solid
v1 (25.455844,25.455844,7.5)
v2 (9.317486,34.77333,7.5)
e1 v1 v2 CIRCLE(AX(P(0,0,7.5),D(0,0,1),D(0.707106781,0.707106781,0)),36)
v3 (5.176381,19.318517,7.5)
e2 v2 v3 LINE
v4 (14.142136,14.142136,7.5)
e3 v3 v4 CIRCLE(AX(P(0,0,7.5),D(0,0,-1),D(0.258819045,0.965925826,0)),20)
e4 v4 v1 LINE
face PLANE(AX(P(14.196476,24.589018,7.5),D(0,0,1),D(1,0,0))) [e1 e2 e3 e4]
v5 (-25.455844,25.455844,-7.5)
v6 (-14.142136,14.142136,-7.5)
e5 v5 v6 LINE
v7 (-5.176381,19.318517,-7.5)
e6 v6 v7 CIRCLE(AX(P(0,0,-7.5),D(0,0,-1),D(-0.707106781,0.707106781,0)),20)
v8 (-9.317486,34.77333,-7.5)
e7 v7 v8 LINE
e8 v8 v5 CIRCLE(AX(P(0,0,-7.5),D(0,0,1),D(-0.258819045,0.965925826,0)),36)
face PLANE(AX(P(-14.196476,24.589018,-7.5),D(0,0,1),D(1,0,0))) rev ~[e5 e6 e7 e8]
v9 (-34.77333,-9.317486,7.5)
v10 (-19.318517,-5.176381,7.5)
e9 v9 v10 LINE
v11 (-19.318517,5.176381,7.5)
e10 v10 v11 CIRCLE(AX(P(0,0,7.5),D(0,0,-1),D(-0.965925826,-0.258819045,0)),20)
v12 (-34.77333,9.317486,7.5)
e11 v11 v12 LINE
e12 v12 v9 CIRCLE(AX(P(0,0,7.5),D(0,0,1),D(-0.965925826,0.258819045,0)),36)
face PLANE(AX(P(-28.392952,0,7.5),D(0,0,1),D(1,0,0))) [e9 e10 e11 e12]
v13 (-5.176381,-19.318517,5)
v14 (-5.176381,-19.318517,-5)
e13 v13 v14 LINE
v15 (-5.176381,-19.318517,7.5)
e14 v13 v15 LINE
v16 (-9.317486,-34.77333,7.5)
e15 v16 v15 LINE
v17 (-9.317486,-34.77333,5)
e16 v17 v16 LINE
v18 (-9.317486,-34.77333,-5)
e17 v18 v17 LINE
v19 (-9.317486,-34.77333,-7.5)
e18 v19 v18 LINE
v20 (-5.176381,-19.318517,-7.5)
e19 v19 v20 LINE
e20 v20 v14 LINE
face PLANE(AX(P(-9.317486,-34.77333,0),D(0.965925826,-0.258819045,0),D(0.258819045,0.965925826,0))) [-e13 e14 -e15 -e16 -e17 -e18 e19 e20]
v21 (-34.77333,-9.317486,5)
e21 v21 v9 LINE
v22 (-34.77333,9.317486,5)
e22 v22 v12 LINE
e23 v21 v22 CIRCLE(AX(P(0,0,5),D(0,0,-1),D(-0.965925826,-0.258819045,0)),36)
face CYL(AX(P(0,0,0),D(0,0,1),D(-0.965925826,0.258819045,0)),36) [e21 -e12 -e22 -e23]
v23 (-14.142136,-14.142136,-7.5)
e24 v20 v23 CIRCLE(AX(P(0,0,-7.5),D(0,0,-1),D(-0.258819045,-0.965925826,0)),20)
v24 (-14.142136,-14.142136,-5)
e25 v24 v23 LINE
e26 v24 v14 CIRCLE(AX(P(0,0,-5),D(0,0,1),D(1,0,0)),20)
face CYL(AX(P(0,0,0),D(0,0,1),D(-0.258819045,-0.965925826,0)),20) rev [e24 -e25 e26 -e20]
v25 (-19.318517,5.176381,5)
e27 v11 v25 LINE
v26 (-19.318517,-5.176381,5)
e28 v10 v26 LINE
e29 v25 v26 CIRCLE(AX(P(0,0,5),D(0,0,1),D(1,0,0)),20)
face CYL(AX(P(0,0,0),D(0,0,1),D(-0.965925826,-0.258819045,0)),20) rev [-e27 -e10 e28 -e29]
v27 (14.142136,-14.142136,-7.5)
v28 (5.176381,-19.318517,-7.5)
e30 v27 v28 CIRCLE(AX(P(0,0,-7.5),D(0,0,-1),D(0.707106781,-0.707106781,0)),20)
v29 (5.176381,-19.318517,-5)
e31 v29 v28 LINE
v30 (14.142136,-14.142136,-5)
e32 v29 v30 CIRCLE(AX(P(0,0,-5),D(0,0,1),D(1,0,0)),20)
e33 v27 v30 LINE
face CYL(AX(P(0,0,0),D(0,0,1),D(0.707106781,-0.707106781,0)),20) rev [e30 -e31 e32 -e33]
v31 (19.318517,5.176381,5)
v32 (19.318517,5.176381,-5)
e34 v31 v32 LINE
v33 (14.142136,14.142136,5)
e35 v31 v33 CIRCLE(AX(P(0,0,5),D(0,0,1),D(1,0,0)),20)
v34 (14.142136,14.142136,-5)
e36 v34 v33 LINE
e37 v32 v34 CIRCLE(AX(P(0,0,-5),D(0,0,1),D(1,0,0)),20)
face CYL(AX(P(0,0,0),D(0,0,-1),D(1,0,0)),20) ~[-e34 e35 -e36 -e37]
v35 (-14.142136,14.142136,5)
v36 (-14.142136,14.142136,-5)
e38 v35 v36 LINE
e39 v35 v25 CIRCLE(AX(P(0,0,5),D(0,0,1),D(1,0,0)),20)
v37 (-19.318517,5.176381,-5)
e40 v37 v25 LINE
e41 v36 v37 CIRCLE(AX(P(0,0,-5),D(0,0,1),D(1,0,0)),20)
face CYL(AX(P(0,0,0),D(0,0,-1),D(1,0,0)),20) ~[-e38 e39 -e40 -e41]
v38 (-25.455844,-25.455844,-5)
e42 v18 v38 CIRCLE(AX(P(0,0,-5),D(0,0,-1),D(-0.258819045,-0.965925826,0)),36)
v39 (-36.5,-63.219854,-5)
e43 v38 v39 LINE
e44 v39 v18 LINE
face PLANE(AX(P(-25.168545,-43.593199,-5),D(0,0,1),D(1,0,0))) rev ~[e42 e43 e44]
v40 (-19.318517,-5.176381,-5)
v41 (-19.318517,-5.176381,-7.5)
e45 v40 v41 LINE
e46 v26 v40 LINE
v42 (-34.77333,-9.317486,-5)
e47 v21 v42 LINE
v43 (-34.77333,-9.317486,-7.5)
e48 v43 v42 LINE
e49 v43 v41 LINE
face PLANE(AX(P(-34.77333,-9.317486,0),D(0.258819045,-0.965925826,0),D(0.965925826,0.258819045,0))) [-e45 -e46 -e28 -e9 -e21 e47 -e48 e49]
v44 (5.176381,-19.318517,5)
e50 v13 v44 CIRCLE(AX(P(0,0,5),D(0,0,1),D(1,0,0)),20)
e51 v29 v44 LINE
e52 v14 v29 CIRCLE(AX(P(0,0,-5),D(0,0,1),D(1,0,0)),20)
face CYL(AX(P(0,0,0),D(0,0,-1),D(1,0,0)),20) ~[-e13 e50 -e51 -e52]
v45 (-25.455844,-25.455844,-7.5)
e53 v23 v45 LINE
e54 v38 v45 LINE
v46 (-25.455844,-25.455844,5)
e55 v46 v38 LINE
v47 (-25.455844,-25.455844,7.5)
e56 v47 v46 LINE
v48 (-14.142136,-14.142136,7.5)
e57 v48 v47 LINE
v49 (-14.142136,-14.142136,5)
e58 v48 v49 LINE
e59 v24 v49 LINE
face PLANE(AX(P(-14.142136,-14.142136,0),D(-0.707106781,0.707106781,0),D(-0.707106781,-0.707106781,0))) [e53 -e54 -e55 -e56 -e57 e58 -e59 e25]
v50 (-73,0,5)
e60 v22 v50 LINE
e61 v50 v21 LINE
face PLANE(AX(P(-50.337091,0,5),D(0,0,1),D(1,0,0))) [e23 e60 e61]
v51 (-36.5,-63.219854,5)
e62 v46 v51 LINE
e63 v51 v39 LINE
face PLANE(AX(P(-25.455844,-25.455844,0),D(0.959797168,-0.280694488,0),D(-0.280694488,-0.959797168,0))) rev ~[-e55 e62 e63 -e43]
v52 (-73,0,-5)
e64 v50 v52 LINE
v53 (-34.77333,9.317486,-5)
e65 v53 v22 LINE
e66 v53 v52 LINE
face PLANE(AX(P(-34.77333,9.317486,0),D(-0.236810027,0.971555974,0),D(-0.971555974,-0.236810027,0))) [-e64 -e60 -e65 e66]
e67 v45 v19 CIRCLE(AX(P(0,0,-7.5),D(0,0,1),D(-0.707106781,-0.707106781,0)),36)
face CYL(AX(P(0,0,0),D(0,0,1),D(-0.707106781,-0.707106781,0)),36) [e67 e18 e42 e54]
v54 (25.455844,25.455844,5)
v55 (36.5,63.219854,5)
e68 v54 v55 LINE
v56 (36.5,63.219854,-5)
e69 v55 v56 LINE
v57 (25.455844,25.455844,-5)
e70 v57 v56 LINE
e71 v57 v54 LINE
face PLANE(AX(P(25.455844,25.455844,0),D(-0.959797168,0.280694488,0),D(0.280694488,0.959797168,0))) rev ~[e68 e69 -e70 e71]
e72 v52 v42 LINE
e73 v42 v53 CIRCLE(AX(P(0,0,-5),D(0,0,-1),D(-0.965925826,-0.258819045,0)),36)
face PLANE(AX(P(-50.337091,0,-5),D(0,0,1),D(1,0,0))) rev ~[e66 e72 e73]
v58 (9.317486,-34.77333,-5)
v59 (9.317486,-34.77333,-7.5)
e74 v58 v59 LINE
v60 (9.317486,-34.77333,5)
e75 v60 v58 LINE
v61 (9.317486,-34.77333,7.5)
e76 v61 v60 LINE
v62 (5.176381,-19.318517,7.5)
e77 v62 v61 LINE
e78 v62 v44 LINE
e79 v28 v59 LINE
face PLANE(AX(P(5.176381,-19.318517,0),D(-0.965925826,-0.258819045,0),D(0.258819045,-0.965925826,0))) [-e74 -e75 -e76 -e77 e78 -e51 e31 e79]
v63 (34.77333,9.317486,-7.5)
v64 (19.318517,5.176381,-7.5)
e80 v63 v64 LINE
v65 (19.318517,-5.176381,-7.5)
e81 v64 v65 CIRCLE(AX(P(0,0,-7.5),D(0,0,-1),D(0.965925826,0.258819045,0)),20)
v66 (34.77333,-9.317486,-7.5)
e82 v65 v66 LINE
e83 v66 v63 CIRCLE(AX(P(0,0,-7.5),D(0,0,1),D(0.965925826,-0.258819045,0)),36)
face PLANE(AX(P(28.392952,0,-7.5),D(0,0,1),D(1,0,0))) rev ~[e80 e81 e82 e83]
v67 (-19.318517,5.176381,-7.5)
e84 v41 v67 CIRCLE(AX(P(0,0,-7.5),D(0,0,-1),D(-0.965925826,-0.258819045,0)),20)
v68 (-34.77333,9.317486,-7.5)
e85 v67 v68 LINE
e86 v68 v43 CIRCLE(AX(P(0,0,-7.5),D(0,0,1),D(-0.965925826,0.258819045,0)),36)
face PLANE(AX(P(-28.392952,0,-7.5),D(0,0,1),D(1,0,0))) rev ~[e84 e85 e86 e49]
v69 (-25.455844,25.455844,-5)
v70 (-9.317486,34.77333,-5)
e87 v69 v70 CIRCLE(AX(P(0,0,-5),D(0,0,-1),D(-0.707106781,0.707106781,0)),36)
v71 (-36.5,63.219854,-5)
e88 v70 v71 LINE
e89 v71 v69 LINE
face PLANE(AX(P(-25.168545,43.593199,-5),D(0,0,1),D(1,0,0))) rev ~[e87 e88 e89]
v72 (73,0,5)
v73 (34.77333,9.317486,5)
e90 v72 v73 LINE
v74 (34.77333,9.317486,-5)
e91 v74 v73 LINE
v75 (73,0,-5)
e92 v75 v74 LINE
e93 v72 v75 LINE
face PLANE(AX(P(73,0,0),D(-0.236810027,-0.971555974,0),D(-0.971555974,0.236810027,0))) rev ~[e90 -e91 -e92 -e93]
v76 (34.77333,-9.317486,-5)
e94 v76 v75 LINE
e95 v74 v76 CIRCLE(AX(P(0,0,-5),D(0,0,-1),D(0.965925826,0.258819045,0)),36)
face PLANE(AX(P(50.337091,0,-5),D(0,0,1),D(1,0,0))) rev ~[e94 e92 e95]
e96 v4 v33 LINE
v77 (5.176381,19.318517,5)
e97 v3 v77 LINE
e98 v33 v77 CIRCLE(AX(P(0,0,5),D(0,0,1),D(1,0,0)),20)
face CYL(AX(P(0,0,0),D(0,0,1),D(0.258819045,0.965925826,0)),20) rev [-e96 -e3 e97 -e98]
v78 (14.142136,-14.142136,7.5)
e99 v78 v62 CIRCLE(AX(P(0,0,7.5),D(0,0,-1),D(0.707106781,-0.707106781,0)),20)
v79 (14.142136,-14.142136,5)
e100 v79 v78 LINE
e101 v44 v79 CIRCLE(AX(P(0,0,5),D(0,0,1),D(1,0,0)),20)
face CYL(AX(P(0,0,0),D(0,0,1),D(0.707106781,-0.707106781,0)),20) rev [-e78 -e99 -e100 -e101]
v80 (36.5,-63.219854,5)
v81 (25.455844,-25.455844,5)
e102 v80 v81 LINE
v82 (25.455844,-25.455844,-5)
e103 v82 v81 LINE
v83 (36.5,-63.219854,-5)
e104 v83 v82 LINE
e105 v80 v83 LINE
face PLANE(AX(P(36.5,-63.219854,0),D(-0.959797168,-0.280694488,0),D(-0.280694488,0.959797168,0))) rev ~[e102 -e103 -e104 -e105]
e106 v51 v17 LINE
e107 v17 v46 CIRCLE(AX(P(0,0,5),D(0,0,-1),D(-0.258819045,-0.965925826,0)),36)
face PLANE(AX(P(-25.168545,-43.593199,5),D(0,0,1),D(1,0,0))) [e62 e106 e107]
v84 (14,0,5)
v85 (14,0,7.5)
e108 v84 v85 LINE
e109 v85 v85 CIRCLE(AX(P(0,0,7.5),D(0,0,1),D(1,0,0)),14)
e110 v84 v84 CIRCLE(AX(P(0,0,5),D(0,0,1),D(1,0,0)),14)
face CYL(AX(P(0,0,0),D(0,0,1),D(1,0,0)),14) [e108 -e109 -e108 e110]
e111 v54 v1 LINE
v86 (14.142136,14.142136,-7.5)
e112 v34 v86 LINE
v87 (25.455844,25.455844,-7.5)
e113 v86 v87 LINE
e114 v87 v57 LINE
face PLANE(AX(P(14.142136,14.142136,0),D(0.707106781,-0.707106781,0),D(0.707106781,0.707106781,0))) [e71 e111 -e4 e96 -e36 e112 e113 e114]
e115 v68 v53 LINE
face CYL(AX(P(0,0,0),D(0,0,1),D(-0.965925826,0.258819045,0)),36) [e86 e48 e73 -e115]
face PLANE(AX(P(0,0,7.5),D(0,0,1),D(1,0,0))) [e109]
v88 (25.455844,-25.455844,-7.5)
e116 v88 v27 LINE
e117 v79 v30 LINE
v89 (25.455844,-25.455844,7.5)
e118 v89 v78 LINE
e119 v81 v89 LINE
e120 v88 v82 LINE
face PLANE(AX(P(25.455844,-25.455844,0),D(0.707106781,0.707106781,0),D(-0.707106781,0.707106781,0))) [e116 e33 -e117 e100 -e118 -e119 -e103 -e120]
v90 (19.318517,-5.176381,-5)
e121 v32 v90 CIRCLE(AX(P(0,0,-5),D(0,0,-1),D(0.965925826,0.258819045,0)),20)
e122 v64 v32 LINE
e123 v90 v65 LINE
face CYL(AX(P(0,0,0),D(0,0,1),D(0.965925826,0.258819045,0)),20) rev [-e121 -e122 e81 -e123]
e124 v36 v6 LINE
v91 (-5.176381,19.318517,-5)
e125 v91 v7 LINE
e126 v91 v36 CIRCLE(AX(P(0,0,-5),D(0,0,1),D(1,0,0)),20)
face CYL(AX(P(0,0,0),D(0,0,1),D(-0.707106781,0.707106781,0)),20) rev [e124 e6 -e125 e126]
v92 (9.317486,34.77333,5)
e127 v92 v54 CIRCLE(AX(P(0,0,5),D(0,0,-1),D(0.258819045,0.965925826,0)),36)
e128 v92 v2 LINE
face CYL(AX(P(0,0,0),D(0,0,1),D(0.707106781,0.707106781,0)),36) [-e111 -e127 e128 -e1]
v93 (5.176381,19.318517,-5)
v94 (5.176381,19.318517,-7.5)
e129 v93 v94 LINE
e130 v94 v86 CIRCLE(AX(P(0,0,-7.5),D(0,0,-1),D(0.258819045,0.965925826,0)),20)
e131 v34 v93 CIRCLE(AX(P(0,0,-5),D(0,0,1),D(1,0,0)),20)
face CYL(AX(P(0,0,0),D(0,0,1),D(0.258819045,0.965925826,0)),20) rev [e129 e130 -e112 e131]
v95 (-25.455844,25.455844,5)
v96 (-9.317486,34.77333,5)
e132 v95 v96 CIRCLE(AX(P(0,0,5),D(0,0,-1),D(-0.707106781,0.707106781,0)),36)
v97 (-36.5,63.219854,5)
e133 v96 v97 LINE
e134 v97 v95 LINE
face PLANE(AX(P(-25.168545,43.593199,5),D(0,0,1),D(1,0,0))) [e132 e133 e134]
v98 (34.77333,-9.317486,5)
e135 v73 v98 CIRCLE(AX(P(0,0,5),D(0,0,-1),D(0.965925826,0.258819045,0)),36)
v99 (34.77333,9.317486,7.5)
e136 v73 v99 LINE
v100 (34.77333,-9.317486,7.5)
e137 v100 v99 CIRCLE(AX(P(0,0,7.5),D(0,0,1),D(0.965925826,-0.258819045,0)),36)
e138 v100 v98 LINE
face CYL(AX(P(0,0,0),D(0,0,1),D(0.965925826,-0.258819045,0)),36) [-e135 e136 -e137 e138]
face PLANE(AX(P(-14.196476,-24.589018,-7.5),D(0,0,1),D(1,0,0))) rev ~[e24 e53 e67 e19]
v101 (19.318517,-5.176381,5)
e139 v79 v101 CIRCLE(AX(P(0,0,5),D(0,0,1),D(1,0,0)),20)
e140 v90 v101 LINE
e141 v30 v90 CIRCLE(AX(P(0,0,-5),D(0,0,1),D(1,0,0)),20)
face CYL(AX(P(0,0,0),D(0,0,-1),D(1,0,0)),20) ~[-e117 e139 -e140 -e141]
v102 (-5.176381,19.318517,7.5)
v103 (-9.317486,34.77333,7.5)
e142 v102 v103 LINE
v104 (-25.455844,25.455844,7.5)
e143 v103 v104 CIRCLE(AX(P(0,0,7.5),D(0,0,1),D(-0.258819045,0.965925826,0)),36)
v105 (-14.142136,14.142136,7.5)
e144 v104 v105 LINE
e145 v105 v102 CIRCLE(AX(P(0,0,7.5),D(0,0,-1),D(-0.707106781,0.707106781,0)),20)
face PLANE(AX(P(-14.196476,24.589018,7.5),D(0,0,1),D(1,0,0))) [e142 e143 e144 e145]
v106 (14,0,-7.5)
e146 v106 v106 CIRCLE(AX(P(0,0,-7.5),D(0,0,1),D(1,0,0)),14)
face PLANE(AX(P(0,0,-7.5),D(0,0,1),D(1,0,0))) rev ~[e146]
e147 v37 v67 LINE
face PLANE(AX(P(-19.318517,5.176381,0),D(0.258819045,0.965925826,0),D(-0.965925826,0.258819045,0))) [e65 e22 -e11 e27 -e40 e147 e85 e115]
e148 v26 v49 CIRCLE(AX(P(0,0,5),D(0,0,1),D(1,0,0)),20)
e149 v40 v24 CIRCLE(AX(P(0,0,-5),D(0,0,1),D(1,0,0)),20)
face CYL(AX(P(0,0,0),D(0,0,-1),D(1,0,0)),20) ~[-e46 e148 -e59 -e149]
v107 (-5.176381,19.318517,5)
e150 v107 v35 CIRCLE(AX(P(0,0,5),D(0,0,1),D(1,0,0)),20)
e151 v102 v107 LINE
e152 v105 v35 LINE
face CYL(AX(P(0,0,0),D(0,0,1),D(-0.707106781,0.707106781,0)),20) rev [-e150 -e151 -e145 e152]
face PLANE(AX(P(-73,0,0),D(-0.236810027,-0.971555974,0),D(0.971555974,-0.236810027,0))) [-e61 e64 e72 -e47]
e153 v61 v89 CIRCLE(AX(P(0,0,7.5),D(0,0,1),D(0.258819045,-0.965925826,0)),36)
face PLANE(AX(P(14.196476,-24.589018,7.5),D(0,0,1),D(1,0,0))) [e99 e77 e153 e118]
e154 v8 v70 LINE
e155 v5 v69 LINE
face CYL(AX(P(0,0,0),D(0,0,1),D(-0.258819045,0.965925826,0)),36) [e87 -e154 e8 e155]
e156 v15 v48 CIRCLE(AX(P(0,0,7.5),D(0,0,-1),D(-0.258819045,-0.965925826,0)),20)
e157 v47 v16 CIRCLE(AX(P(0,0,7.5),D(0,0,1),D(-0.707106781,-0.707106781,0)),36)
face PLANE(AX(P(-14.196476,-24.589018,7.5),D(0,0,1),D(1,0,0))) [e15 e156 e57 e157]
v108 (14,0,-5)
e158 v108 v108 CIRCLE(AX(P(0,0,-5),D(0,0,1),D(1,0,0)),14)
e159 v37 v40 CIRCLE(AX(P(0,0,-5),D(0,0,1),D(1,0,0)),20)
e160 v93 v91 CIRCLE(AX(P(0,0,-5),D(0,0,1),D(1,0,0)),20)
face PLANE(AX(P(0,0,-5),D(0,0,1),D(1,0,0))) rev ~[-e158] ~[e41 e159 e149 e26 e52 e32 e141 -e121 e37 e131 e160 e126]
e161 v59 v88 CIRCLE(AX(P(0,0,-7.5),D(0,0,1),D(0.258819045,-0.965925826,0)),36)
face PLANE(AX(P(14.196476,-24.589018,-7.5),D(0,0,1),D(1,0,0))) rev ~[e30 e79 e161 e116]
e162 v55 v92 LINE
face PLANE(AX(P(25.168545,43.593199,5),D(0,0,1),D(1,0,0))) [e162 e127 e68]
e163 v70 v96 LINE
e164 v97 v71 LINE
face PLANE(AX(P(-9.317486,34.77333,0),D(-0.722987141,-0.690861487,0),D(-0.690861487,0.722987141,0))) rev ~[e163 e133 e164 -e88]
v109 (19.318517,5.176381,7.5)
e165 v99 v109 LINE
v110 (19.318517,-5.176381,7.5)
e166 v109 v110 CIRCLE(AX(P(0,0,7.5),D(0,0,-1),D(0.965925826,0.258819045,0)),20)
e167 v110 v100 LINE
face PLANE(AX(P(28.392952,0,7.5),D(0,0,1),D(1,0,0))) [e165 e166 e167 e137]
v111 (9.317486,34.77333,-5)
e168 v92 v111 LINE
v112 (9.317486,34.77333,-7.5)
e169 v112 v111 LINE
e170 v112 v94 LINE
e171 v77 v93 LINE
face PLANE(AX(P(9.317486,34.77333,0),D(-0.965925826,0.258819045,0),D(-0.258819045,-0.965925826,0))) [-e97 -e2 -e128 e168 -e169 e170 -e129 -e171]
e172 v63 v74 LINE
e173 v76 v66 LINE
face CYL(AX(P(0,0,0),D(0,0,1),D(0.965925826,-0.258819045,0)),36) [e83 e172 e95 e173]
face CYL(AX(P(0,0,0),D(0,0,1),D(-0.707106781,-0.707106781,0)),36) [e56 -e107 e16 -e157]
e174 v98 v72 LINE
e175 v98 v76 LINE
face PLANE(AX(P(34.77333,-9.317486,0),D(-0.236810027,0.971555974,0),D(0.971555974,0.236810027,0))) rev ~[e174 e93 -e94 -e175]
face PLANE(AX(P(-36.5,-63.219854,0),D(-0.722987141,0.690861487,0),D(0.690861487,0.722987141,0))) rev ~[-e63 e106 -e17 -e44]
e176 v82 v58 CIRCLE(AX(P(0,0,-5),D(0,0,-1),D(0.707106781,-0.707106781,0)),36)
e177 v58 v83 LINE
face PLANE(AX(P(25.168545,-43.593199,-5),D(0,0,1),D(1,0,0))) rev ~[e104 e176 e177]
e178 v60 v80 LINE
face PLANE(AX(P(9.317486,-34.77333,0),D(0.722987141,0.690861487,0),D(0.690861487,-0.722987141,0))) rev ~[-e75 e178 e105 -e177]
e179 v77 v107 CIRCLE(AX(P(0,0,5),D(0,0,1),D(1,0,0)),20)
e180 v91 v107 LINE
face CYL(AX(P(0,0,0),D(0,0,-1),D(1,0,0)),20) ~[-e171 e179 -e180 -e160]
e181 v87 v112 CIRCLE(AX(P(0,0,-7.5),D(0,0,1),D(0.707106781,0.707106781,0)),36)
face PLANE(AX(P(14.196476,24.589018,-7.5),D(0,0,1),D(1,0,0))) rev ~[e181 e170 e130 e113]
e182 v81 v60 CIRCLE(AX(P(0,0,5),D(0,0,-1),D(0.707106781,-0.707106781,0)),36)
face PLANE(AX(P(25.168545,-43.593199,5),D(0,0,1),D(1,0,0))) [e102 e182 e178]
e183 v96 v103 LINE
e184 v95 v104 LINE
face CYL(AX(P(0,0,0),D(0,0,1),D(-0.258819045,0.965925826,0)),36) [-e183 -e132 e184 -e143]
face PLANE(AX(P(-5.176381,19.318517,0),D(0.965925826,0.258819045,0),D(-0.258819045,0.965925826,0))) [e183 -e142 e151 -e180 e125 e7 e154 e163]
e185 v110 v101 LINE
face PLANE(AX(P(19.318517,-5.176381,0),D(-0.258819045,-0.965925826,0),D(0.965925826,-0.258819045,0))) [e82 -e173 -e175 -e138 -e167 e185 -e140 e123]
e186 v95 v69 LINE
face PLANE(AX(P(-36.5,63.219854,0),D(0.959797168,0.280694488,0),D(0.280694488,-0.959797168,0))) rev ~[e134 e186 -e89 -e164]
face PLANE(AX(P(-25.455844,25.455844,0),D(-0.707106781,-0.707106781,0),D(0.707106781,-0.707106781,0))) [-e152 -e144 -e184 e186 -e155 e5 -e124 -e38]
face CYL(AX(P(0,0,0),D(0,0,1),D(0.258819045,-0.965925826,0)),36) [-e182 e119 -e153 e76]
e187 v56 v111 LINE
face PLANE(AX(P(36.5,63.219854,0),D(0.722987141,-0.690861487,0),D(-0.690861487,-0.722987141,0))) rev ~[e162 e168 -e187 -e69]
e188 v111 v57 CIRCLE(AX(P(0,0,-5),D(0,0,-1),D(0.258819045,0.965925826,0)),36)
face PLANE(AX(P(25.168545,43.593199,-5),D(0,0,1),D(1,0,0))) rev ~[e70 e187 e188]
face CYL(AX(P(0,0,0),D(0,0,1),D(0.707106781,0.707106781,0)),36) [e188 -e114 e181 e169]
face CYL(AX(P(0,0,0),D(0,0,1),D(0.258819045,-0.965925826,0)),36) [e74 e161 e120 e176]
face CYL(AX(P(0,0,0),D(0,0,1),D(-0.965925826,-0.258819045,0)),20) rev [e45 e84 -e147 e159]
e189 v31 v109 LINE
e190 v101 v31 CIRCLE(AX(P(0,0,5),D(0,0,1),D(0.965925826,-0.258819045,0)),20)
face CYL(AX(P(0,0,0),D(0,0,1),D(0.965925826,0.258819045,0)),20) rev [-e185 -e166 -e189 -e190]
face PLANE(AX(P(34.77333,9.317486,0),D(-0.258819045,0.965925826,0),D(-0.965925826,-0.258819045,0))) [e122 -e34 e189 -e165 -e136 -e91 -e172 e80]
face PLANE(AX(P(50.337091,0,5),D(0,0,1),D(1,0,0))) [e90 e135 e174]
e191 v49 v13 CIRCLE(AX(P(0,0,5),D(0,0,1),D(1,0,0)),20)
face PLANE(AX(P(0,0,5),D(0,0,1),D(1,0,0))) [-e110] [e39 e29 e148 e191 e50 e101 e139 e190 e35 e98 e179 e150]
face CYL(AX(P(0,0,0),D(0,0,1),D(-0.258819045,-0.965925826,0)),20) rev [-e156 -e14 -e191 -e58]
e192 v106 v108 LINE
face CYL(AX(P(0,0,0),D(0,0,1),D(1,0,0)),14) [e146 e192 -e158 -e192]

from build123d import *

# Parameters (mm, degrees)
BOSS_EXTRUDE1_DEPTH   = 7.5
BOSS_EXTRUDE1_2_DEPTH = 7.5
BOSS_EXTRUDE1_3_DEPTH = 7.5
BOSS_EXTRUDE1_4_DEPTH = 7.5
BOSS_EXTRUDE1_5_DEPTH = 7.5
BOSS_EXTRUDE1_6_DEPTH = 7.5
SKETCH1_R             = 14
BOSS_EXTRUDE1_7_DEPTH = 7.5
SKETCH1_3_R           = 20
SKETCH1_3_R_2         = 14
BOSS_EXTRUDE2_DEPTH   = 5


with BuildPart() as part:
    # Sketch1 → Boss-Extrude1 (new, symmetric)
    with BuildSketch(Plane.XY):
        with BuildLine():
            ThreePointArc((34.773329746, -9.317485624), (36, 0), (34.773329746, 9.317485624))
            Line((34.773329746, 9.317485624), (19.318516526, 5.176380902))
            ThreePointArc((19.318516526, 5.176380902), (20, 0), (19.318516526, -5.176380902))
            Line((19.318516526, -5.176380902), (34.773329746, -9.317485624))
        make_face()
    extrude(amount=BOSS_EXTRUDE1_DEPTH, both=True)



with BuildPart() as body_2:
    # Sketch1 → Boss-Extrude1 2 (new, symmetric)
    with BuildSketch(Plane.XY):
        with BuildLine():
            Line((14.142135624, 14.142135624), (25.455844123, 25.455844123))
            ThreePointArc((25.455844123, 25.455844123), (18, 31.176914536), (9.317485624, 34.773329746))
            Line((9.317485624, 34.773329746), (5.176380902, 19.318516526))
            ThreePointArc((5.176380902, 19.318516526), (10, 17.320508076), (14.142135624, 14.142135624))
        make_face()
    extrude(amount=BOSS_EXTRUDE1_2_DEPTH, both=True)


with BuildPart() as body_3:
    # Sketch1 → Boss-Extrude1 3 (new, symmetric)
    with BuildSketch(Plane.XY):
        with BuildLine():
            ThreePointArc((9.317485624, -34.773329746), (18, -31.176914536), (25.455844123, -25.455844123))
            Line((25.455844123, -25.455844123), (14.142135624, -14.142135624))
            ThreePointArc((14.142135624, -14.142135624), (10, -17.320508076), (5.176380902, -19.318516526))
            Line((5.176380902, -19.318516526), (9.317485624, -34.773329746))
        make_face()
    extrude(amount=BOSS_EXTRUDE1_3_DEPTH, both=True)


with BuildPart() as body_4:
    # Sketch1 → Boss-Extrude1 4 (new, symmetric)
    with BuildSketch(Plane.XY):
        with BuildLine():
            Line((-5.176380902, 19.318516526), (-9.317485624, 34.773329746))
            ThreePointArc((-9.317485624, 34.773329746), (-18, 31.176914536), (-25.455844123, 25.455844123))
            Line((-25.455844123, 25.455844123), (-14.142135624, 14.142135624))
            ThreePointArc((-14.142135624, 14.142135624), (-10, 17.320508076), (-5.176380902, 19.318516526))
        make_face()
    extrude(amount=BOSS_EXTRUDE1_4_DEPTH, both=True)


with BuildPart() as body_5:
    # Sketch1 → Boss-Extrude1 5 (new, symmetric)
    with BuildSketch(Plane.XY):
        with BuildLine():
            ThreePointArc((-25.455844123, -25.455844123), (-18, -31.176914536), (-9.317485624, -34.773329746))
            Line((-9.317485624, -34.773329746), (-5.176380902, -19.318516526))
            ThreePointArc((-5.176380902, -19.318516526), (-10, -17.320508076), (-14.142135624, -14.142135624))
            Line((-14.142135624, -14.142135624), (-25.455844123, -25.455844123))
        make_face()
    extrude(amount=BOSS_EXTRUDE1_5_DEPTH, both=True)


with BuildPart() as body_6:
    # Sketch1 → Boss-Extrude1 6 (new, symmetric)
    with BuildSketch(Plane.XY):
        with BuildLine():
            Line((-19.318516526, 5.176380902), (-34.773329746, 9.317485624))
            ThreePointArc((-34.773329746, 9.317485624), (-36, 0), (-34.773329746, -9.317485624))
            Line((-34.773329746, -9.317485624), (-19.318516526, -5.176380902))
            ThreePointArc((-19.318516526, -5.176380902), (-20, 0), (-19.318516526, 5.176380902))
        make_face()
    extrude(amount=BOSS_EXTRUDE1_6_DEPTH, both=True)


with BuildPart() as body_7:
    # Sketch1 → Boss-Extrude1 7 (new, symmetric)
    with BuildSketch(Plane.XY):
        Circle(SKETCH1_R)
    extrude(amount=BOSS_EXTRUDE1_7_DEPTH, both=True)


with BuildPart() as part_1:
    add(part.part)

    add(body_2.part)  # Boss-Extrude2 merges body 2

    add(body_3.part)  # Boss-Extrude2 merges body 3

    add(body_4.part)  # Boss-Extrude2 merges body 4

    add(body_5.part)  # Boss-Extrude2 merges body 5

    add(body_6.part)  # Boss-Extrude2 merges body 6

    add(body_7.part)  # Boss-Extrude2 merges body 7
    # Sketch1<3> → Boss-Extrude2 (add, symmetric)
    # profile 1 of 7: a face of its own
    with BuildSketch(Plane.XY):
        with BuildLine():
            Line((73, 0), (34.773329746, 9.317485624))
            ThreePointArc((34.773329746, 9.317485624), (36, 0), (34.773329746, -9.317485624))
            Line((34.773329746, -9.317485624), (73, 0))
        make_face()
    # profile 2 of 7: a face of its own
    with BuildSketch(Plane.XY):
        Circle(SKETCH1_3_R)
        Circle(SKETCH1_3_R_2, mode=Mode.SUBTRACT)
    # profile 3 of 7: a face of its own
    with BuildSketch(Plane.XY):
        with BuildLine():
            ThreePointArc((9.317485624, 34.773329746), (18, 31.176914536), (25.455844123, 25.455844123))
            Line((25.455844123, 25.455844123), (36.5, 63.219854476))
            Line((36.5, 63.219854476), (9.317485624, 34.773329746))
        make_face()
    # profile 4 of 7: a face of its own
    with BuildSketch(Plane.XY):
        with BuildLine():
            Line((36.5, -63.219854476), (25.455844123, -25.455844123))
            ThreePointArc((25.455844123, -25.455844123), (18, -31.176914536), (9.317485624, -34.773329746))
            Line((9.317485624, -34.773329746), (36.5, -63.219854476))
        make_face()
    # profile 5 of 7: a face of its own
    with BuildSketch(Plane.XY):
        with BuildLine():
            ThreePointArc((-25.455844123, 25.455844123), (-18, 31.176914536), (-9.317485624, 34.773329746))
            Line((-9.317485624, 34.773329746), (-36.5, 63.219854476))
            Line((-36.5, 63.219854476), (-25.455844123, 25.455844123))
        make_face()
    # profile 6 of 7: a face of its own
    with BuildSketch(Plane.XY):
        with BuildLine():
            Line((-36.5, -63.219854476), (-9.317485624, -34.773329746))
            ThreePointArc((-9.317485624, -34.773329746), (-18, -31.176914536), (-25.455844123, -25.455844123))
            Line((-25.455844123, -25.455844123), (-36.5, -63.219854476))
        make_face()
    # profile 7 of 7: a face of its own
    with BuildSketch(Plane.XY):
        with BuildLine():
            ThreePointArc((-34.773329746, -9.317485624), (-36, 0), (-34.773329746, 9.317485624))
            Line((-34.773329746, 9.317485624), (-73, 0))
            Line((-73, 0), (-34.773329746, -9.317485624))
        make_face()
    extrude(amount=BOSS_EXTRUDE2_DEPTH, both=True)


solid = part_1.part
